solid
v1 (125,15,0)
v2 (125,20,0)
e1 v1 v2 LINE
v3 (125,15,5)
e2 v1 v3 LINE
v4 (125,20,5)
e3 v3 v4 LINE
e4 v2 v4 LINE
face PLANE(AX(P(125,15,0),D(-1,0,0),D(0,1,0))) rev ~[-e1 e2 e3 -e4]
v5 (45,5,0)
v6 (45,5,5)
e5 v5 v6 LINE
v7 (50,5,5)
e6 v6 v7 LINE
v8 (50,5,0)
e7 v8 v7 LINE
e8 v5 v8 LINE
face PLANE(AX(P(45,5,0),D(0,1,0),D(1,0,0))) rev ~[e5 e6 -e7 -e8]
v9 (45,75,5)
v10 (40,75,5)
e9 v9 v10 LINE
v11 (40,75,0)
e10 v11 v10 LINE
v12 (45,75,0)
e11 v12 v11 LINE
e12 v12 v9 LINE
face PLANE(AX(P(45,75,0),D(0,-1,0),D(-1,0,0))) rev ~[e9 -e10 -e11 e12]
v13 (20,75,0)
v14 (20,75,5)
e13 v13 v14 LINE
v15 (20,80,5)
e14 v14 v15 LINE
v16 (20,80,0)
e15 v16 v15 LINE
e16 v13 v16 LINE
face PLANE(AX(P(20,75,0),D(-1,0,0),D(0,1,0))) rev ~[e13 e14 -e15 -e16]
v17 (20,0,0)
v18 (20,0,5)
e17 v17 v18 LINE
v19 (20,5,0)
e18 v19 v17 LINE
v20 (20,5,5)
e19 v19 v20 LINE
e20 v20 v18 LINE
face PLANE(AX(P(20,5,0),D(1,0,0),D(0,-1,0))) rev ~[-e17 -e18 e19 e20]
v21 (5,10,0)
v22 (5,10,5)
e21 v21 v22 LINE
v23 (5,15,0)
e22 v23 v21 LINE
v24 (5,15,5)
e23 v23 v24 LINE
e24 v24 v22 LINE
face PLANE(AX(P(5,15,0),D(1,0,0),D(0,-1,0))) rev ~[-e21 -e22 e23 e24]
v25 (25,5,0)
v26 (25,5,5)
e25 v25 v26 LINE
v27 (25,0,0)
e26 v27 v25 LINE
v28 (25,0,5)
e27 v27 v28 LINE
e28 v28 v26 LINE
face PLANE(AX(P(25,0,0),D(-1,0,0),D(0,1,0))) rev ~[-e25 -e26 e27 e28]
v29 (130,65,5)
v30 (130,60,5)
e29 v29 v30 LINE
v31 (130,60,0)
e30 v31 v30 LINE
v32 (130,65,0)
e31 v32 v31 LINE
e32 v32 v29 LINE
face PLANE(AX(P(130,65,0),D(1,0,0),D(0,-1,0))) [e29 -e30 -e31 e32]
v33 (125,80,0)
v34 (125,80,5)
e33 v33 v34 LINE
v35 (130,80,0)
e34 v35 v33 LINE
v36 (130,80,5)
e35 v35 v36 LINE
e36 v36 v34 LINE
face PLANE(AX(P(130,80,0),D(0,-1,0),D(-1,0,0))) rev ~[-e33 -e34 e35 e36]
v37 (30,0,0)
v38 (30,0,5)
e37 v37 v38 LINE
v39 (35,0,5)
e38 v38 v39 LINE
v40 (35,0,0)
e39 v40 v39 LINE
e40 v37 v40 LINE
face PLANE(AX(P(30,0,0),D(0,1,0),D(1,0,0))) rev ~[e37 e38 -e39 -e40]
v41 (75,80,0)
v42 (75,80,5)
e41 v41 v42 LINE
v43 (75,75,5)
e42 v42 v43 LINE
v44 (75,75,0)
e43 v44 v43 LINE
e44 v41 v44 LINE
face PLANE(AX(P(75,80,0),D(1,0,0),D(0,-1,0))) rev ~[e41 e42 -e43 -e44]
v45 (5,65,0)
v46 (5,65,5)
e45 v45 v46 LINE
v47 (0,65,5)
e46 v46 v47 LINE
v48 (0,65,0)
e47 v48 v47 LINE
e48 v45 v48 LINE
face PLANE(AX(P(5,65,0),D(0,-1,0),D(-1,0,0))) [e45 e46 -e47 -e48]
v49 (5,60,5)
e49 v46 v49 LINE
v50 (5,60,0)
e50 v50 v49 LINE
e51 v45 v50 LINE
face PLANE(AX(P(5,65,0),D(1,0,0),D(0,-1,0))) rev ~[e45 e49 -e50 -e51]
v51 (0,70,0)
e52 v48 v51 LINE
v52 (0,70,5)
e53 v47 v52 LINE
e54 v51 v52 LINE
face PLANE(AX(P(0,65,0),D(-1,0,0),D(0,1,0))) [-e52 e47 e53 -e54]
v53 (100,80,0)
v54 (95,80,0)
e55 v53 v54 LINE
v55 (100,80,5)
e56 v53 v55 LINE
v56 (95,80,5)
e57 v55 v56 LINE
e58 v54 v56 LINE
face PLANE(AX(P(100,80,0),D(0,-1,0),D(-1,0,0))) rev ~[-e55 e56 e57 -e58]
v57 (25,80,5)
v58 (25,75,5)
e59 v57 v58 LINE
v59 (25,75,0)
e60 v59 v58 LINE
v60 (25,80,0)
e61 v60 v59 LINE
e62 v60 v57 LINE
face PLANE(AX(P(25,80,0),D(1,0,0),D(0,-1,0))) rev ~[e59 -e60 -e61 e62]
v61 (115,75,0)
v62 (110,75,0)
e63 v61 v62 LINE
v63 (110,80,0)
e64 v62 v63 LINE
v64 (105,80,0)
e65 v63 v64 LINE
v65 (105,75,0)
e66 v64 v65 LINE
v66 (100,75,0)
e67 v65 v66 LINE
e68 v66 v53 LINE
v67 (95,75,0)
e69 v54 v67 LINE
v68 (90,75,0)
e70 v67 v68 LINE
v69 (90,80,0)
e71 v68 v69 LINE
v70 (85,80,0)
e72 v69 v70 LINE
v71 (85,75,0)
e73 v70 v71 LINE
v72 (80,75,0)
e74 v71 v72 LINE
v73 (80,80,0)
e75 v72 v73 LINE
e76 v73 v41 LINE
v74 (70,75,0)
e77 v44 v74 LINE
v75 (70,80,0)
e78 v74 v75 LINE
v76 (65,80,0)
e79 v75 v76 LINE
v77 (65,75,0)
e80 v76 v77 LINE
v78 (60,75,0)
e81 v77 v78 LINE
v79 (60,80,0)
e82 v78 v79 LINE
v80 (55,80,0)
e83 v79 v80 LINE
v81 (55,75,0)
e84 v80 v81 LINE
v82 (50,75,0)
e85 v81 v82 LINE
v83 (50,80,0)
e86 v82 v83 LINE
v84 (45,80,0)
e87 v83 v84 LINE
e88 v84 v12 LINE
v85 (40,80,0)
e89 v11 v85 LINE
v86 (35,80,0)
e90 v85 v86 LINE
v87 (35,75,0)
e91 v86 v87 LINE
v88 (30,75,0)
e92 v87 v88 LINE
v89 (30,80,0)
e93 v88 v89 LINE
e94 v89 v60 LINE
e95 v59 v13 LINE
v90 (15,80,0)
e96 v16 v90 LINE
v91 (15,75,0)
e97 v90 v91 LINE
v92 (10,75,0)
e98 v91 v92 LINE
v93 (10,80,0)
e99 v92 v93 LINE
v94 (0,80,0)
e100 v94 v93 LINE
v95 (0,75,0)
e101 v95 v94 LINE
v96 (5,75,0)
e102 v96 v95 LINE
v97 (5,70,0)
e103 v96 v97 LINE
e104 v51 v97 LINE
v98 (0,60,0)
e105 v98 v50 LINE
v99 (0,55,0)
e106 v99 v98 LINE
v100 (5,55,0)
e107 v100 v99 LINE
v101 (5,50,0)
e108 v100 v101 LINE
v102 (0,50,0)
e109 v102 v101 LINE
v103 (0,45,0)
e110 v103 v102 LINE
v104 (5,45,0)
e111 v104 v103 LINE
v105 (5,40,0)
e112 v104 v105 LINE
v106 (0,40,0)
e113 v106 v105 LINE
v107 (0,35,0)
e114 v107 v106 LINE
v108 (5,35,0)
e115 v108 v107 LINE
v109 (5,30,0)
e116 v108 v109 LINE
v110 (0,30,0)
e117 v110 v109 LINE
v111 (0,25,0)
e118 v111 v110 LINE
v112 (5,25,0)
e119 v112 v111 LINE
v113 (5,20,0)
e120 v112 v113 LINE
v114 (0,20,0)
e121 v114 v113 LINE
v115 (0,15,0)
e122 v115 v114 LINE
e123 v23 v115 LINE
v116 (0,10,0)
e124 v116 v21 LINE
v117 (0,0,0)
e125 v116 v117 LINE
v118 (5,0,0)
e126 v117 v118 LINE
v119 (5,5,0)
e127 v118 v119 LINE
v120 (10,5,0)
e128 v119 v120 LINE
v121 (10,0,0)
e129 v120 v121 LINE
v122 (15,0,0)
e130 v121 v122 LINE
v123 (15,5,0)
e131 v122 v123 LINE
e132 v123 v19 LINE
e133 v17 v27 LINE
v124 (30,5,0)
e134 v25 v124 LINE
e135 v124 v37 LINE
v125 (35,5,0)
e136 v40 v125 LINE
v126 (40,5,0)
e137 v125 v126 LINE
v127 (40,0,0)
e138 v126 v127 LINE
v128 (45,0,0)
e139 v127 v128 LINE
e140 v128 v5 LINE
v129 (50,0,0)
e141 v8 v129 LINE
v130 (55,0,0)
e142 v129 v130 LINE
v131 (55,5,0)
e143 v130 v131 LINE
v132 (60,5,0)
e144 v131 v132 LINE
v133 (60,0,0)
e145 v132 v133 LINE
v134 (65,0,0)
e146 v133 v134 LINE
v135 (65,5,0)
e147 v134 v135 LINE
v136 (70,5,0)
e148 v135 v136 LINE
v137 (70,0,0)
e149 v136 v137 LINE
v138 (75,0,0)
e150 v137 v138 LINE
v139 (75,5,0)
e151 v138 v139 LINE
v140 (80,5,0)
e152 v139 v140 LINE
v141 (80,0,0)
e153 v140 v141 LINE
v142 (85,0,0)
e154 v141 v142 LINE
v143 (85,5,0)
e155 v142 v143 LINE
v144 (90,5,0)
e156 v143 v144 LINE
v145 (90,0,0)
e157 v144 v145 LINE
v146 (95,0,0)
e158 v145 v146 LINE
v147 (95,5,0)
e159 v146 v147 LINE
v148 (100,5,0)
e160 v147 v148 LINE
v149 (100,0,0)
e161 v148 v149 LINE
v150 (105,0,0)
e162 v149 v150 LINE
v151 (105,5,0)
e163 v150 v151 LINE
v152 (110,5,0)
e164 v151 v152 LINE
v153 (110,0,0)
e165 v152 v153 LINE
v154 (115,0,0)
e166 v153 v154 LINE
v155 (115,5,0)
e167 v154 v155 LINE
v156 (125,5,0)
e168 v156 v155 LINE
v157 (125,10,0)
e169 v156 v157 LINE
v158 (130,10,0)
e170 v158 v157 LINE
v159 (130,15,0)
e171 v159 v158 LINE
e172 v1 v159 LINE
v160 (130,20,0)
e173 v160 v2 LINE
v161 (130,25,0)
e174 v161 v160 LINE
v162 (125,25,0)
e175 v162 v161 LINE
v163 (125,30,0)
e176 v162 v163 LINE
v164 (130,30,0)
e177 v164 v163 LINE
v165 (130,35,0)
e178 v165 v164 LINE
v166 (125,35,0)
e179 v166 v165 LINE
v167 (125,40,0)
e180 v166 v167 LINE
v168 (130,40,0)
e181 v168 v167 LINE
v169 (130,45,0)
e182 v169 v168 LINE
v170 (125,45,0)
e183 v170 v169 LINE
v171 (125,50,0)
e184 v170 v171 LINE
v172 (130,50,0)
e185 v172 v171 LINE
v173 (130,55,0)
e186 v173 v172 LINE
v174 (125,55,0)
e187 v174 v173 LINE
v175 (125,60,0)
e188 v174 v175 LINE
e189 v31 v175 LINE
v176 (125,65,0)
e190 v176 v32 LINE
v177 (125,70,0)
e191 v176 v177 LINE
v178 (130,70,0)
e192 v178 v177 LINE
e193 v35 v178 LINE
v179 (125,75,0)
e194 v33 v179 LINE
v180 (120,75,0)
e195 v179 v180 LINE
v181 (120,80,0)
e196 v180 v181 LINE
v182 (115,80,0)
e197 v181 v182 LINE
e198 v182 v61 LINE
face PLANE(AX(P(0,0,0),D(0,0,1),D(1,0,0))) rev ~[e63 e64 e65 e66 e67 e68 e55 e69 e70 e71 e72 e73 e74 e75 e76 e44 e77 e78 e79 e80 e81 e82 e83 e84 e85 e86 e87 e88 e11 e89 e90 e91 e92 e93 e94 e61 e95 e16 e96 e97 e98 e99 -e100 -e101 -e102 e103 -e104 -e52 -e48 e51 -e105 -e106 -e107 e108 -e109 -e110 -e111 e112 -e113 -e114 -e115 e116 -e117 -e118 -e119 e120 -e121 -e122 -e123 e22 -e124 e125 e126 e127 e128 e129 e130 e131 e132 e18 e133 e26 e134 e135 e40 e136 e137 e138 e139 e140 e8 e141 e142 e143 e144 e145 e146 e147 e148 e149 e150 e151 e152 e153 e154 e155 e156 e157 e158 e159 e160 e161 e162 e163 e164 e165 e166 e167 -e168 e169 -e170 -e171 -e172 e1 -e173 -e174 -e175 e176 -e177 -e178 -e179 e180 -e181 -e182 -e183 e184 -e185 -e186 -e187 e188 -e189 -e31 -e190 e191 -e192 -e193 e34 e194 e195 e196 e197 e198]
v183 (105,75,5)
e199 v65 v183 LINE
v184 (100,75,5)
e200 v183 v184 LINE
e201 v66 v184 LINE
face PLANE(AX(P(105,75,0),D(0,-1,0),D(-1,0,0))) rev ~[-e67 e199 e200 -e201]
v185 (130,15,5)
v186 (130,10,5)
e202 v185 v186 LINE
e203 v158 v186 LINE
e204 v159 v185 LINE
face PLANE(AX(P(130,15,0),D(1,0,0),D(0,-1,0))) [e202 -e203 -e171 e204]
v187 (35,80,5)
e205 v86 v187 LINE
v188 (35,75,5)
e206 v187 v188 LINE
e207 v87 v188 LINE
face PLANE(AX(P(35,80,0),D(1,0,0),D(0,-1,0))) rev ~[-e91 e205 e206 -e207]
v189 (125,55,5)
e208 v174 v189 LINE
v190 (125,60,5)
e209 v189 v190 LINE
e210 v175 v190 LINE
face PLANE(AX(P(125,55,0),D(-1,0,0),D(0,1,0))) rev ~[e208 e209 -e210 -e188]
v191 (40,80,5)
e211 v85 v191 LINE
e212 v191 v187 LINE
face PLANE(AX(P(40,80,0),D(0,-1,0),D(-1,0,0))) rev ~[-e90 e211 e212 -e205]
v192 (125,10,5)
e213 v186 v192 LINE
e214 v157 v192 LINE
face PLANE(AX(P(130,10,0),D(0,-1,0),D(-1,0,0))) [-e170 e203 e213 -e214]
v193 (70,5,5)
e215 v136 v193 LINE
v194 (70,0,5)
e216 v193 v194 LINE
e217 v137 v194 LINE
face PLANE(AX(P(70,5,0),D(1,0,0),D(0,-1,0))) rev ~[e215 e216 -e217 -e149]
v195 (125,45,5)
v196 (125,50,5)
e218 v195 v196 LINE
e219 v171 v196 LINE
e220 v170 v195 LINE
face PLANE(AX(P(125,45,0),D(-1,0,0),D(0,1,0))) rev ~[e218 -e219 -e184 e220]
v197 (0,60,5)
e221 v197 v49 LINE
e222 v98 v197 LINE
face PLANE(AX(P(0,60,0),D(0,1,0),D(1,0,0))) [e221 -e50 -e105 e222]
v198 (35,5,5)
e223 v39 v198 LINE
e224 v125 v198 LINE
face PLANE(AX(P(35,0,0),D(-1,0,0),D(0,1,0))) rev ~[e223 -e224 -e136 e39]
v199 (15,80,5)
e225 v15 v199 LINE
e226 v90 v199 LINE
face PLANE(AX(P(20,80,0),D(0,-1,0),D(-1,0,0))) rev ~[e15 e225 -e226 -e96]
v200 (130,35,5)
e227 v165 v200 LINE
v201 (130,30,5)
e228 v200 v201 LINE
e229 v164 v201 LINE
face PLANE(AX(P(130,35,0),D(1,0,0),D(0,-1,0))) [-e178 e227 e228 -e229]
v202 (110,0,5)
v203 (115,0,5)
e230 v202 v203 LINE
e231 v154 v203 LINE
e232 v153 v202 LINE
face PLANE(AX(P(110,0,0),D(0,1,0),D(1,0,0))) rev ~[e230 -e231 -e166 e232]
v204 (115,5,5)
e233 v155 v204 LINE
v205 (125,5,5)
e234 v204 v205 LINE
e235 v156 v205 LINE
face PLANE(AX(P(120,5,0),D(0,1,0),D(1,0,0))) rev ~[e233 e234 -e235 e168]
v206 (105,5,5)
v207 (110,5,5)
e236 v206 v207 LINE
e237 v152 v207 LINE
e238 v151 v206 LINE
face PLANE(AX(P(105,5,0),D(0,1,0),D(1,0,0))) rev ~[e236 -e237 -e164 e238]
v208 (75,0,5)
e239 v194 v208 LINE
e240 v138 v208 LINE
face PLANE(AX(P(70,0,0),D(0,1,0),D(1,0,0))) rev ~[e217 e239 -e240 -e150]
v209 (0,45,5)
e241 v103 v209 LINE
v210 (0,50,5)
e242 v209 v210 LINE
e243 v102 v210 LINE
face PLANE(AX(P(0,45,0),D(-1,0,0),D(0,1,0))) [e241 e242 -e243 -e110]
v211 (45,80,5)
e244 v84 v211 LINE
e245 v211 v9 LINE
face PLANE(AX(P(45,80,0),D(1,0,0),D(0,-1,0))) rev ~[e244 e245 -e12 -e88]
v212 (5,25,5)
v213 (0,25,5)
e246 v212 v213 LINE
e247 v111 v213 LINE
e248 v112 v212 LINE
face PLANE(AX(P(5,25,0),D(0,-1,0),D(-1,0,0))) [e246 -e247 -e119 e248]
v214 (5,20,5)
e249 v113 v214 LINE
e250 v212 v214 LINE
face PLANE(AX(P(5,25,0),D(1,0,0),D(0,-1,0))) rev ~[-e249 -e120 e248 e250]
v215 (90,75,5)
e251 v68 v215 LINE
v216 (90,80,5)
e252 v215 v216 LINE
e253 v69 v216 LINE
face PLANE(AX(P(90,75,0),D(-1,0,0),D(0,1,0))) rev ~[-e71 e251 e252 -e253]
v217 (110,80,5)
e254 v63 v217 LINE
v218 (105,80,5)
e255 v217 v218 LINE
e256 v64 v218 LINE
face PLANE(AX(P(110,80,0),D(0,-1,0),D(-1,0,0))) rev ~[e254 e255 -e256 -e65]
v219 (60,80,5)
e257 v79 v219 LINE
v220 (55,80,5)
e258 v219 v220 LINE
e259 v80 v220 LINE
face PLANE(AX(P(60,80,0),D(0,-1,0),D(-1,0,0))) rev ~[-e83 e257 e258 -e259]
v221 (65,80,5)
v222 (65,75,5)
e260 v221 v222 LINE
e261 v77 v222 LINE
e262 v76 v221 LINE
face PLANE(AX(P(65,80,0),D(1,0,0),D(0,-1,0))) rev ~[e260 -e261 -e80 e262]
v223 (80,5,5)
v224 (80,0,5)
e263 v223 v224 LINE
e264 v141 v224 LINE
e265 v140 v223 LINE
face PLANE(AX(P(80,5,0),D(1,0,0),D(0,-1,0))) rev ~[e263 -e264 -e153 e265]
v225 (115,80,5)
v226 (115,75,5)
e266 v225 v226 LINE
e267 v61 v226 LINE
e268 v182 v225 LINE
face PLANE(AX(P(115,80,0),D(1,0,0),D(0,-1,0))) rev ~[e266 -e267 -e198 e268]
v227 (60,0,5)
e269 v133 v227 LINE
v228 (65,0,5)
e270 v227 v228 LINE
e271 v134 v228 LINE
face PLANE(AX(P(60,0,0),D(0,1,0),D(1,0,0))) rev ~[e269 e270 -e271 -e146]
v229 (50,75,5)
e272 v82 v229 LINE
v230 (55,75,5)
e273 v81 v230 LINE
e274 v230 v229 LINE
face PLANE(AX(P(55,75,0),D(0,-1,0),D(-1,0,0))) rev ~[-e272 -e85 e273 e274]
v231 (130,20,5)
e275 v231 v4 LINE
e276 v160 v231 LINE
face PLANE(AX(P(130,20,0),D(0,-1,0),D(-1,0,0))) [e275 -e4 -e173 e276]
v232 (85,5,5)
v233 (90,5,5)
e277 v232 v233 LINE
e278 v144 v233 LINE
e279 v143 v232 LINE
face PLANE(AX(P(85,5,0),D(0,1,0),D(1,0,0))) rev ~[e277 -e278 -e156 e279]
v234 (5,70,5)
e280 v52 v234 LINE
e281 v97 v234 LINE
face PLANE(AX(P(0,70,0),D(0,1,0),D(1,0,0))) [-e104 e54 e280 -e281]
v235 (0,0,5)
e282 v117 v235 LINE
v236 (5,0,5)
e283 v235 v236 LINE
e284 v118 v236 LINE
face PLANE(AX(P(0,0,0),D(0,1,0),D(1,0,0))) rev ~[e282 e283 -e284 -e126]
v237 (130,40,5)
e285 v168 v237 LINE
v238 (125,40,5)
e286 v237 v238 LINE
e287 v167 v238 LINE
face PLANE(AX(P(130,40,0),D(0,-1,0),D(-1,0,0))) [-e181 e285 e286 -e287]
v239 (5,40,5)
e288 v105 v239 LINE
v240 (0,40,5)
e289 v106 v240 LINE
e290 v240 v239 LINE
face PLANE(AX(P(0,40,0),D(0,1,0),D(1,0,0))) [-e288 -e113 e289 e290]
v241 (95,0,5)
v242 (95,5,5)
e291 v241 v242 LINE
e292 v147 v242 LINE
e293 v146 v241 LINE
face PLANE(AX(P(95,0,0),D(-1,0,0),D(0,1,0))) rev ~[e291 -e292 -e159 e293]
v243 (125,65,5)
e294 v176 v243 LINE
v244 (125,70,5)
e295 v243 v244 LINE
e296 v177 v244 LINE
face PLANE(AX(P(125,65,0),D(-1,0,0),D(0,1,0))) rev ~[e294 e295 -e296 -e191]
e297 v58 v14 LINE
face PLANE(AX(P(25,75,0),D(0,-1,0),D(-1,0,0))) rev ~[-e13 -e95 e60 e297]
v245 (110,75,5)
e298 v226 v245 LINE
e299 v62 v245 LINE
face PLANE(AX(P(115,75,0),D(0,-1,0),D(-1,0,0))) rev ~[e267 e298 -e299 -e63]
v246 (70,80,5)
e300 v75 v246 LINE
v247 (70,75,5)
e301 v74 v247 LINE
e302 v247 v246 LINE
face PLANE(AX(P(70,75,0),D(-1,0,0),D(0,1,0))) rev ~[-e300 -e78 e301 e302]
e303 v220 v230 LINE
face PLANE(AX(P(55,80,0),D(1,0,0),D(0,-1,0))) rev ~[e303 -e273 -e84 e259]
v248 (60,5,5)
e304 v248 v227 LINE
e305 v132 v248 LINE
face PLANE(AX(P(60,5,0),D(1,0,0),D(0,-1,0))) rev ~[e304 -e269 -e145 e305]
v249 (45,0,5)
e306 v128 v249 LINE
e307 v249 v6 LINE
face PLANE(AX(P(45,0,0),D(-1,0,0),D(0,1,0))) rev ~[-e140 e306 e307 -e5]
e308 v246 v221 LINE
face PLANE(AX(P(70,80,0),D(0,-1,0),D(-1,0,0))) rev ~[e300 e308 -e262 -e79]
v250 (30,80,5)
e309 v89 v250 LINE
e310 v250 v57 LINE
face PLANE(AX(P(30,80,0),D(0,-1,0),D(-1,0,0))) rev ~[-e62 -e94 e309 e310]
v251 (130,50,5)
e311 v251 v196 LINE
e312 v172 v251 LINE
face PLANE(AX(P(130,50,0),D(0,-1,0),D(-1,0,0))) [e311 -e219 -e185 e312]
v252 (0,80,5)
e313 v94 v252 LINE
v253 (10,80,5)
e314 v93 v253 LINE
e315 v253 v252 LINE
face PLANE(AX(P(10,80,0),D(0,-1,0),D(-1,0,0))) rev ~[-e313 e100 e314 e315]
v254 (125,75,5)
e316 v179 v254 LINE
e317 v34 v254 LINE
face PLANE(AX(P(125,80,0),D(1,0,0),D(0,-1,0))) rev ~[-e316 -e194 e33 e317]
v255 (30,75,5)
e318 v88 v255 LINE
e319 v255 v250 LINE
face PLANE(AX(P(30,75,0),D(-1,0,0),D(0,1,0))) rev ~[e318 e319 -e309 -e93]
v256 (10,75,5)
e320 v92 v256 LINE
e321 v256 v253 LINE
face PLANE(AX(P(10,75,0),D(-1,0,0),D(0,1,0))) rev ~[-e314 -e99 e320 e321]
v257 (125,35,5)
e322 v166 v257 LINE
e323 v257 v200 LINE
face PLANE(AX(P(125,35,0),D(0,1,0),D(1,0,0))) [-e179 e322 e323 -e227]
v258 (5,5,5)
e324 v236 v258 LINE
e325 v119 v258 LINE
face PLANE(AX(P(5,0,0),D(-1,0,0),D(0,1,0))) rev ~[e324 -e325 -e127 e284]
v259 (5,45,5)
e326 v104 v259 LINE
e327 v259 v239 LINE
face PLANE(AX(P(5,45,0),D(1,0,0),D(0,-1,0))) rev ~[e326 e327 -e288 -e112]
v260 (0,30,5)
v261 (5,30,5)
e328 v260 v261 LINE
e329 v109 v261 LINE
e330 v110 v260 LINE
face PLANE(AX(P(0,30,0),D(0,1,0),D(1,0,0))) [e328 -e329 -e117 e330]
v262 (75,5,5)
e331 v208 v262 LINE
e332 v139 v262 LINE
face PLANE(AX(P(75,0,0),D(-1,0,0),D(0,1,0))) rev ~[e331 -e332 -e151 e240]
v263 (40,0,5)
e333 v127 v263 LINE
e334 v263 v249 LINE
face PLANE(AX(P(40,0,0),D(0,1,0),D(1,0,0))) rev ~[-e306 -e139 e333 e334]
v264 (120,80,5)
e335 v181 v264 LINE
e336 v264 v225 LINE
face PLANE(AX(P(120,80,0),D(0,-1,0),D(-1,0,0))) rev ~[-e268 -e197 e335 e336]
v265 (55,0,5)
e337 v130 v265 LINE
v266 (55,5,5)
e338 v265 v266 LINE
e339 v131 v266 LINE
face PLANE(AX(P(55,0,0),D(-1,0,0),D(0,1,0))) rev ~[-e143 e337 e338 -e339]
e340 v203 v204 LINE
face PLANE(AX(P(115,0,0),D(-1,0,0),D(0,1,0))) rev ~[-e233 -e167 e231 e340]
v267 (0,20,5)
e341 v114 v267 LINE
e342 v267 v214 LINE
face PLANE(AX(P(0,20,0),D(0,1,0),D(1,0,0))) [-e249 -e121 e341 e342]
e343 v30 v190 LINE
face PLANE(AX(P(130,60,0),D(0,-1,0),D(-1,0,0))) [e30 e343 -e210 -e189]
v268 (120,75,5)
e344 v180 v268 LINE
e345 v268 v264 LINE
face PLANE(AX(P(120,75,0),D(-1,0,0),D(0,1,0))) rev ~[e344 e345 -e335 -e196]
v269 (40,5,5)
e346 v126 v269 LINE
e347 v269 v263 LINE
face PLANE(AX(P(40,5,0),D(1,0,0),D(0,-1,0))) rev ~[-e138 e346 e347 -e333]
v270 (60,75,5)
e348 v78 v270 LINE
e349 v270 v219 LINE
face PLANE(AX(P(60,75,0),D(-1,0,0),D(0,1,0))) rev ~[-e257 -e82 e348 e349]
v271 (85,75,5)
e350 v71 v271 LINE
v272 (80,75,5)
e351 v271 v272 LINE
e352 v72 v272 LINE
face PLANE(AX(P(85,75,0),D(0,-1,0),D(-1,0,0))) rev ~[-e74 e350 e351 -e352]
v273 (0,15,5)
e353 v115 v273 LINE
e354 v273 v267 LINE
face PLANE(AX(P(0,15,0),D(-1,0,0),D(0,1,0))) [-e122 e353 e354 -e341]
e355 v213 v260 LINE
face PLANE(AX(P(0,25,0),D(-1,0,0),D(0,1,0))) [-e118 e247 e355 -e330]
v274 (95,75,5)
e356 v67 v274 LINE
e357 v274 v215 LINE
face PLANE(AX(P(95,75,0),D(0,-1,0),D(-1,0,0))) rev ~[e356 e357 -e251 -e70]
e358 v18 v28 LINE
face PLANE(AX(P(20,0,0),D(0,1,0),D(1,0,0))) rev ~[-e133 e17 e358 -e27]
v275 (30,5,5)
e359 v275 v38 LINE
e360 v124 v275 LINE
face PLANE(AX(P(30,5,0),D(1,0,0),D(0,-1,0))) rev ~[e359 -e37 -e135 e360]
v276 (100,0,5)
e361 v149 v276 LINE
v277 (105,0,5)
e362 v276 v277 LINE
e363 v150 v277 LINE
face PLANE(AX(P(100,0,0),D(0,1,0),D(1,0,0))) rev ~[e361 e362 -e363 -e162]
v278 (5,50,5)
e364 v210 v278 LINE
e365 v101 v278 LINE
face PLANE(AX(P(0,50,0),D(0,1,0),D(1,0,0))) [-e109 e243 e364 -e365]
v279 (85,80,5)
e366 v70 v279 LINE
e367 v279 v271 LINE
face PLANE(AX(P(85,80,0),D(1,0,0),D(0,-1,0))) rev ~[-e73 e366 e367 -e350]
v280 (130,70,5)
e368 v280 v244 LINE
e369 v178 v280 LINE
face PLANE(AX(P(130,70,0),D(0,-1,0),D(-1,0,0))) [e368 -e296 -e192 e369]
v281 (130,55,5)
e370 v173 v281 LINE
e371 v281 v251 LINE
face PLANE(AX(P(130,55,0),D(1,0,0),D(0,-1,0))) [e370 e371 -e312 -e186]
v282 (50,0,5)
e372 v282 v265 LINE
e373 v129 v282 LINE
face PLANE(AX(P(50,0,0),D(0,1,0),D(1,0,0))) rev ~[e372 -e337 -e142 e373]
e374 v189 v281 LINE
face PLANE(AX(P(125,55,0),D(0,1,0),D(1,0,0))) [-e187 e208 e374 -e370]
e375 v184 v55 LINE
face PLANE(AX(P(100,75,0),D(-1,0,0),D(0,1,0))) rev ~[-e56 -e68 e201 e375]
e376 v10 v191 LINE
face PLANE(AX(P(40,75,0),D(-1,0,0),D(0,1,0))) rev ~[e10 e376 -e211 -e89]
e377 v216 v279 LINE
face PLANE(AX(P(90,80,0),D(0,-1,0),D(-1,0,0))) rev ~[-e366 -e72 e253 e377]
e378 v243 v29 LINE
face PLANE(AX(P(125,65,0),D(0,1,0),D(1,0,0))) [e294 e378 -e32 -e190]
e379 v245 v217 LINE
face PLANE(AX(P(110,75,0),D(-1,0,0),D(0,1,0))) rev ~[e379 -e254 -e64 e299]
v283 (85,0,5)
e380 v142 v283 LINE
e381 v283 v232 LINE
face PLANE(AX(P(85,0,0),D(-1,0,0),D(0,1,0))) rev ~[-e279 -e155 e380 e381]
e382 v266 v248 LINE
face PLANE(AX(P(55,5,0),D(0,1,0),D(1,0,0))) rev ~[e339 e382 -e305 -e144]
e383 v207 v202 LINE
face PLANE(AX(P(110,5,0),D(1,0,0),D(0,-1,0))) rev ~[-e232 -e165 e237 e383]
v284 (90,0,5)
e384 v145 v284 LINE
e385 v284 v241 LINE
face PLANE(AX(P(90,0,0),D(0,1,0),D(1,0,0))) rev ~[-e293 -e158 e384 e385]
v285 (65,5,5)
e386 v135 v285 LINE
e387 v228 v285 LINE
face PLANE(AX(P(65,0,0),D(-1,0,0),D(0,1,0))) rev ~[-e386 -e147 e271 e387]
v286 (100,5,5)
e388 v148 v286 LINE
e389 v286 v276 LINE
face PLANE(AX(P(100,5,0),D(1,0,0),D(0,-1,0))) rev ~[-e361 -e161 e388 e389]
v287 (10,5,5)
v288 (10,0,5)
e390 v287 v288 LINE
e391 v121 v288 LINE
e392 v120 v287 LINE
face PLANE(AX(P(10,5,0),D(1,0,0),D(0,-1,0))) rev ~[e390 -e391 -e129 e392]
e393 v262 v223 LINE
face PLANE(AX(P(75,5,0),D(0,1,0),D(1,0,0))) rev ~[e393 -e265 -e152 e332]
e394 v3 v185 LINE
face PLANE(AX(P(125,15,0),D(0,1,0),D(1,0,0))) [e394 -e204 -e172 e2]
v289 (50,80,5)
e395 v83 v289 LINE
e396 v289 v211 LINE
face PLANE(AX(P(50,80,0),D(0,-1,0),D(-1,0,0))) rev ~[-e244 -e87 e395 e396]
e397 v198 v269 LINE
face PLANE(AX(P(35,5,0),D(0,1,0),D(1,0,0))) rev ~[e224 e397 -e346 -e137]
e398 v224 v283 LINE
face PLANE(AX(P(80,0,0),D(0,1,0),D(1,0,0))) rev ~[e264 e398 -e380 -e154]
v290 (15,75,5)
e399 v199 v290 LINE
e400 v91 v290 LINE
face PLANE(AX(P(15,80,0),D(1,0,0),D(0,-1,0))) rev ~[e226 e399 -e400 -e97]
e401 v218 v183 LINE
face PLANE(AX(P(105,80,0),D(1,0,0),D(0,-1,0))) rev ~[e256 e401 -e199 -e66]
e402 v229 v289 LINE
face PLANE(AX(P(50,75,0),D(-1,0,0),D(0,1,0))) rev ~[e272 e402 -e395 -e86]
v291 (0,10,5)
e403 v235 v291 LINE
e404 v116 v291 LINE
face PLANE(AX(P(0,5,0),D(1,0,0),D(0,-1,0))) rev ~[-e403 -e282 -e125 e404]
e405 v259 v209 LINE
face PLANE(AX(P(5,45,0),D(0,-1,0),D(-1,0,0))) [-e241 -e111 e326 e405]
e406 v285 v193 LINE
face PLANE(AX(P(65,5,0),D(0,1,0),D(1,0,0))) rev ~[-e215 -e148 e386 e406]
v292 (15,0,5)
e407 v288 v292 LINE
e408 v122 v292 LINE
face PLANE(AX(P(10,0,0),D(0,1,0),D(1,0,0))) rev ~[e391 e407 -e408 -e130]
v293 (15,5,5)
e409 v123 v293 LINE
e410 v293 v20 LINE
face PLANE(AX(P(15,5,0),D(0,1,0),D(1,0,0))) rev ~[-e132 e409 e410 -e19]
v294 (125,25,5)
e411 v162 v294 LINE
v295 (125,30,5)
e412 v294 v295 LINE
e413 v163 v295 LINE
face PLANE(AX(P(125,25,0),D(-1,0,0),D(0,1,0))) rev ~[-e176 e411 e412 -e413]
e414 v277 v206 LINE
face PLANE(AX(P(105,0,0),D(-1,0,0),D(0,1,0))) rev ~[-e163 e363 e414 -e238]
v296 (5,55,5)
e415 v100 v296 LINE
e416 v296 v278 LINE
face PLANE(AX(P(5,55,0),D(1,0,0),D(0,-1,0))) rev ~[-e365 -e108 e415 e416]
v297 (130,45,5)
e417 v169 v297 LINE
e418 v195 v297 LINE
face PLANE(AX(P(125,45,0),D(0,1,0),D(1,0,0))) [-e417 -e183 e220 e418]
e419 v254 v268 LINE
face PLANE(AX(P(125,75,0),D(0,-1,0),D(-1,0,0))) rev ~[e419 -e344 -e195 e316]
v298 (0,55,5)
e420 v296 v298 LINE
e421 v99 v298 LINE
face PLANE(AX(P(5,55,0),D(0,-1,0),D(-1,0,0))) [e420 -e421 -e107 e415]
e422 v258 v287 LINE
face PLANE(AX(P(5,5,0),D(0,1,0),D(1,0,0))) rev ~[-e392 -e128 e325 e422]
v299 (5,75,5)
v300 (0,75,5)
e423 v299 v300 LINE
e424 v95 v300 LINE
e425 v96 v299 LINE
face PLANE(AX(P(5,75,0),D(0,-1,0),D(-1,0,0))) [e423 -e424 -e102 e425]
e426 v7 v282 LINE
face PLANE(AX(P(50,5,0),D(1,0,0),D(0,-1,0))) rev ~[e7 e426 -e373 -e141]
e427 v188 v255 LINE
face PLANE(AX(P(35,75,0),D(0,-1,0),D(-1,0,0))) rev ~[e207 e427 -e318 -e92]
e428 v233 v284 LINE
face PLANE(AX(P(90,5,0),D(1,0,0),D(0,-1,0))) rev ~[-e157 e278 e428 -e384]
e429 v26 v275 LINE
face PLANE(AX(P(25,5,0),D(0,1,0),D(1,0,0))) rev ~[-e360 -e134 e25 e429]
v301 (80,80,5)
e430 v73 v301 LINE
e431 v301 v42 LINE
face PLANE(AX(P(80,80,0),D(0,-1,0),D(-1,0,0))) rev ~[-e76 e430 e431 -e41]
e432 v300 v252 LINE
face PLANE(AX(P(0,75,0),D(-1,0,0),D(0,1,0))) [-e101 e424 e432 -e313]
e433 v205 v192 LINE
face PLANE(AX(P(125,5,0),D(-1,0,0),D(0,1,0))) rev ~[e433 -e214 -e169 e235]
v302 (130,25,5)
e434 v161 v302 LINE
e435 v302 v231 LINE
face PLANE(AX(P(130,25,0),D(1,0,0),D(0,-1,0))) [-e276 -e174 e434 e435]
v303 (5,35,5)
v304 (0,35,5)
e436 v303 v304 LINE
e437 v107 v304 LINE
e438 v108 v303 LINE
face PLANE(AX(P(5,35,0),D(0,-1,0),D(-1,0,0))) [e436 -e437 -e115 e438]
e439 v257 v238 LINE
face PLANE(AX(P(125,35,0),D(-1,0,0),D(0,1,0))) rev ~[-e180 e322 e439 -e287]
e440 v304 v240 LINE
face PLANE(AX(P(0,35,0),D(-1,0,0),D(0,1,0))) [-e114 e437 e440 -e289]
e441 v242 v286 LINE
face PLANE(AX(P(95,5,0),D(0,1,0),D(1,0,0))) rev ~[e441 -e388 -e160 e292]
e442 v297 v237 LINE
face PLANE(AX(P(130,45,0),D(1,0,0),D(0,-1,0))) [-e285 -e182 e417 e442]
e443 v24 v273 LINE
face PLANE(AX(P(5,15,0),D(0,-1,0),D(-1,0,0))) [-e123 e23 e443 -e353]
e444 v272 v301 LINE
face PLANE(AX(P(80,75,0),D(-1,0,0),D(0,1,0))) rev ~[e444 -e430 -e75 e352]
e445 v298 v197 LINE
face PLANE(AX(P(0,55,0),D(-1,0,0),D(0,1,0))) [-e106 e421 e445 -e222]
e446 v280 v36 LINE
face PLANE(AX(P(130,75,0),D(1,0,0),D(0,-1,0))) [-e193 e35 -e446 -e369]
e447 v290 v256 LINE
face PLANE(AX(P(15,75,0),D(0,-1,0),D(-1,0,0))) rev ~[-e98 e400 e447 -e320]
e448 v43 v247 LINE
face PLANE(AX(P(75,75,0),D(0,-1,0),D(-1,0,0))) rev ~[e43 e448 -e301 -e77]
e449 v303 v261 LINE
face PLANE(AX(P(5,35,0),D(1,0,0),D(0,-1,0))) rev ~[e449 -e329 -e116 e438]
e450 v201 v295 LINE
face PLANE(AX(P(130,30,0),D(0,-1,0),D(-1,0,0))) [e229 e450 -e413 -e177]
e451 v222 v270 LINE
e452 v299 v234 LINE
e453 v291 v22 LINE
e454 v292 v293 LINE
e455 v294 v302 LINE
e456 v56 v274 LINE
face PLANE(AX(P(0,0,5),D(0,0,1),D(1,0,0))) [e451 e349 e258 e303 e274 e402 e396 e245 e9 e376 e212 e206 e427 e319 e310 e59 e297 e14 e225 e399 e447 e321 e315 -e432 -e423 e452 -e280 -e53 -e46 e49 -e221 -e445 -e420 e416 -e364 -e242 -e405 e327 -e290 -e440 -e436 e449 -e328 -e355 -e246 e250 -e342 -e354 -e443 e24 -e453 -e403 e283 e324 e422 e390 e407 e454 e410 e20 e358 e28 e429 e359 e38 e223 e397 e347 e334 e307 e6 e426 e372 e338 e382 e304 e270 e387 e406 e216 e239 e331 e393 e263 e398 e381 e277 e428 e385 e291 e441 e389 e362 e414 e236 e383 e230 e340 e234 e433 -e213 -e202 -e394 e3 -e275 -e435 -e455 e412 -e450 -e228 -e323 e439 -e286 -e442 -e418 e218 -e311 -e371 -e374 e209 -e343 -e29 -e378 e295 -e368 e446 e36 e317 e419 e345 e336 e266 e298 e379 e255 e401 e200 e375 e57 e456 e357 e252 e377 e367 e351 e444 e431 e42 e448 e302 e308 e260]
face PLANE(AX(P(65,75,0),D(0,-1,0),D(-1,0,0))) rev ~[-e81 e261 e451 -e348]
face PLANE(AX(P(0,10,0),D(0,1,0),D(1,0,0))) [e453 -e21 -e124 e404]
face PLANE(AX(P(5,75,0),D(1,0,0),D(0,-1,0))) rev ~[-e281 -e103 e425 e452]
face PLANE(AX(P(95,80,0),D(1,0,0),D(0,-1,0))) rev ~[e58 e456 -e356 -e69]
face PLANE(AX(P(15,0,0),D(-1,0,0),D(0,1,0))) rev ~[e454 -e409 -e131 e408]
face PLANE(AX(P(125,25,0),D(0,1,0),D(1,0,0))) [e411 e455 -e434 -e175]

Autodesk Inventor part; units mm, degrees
ref_plane "YZ Plane" through (0, 0, 0) normal (1, 0, 0) x (0, 1, 0)
ref_plane "XZ Plane" through (0, 0, 0) normal (0, 1, 0) x (-1, 0, 0)
ref_plane "XY Plane" through (0, 0, 0) normal (0, 0, 1) x (1, 0, 0)
sketch "Sketch1" plane through (0, 0, 0) normal (0, 0, 1) x (1, 0, 0)
  line L0 (0, 0) -> (5, 0)
  line L1 (5, 0) -> (5, 5)
  line L2 (5, 5) -> (0, 5)
  line L3 (0, 5) -> (0, 0)
  line L4 (5, 5) -> (125, 5)
  line L5 (125, 5) -> (125, 75)
  line L6 (125, 75) -> (5, 75)
  line L7 (5, 75) -> (5, 5)
  line L8 (130, 80) -> (125, 80)
  line L9 (125, 80) -> (125, 75)
  line L10 (125, 75) -> (130, 75)
  line L11 (130, 75) -> (130, 80)
  line L12 (115, 80) -> (115, 75)
  line L13 (115, 75) -> (120, 75)
  line L14 (120, 75) -> (120, 80)
  line L15 (120, 80) -> (115, 80)
  line L16 (105, 80) -> (105, 75)
  line L17 (105, 75) -> (110, 75)
  line L18 (110, 75) -> (110, 80)
  line L19 (110, 80) -> (105, 80)
  line L20 (95, 80) -> (95, 75)
  line L21 (95, 75) -> (100, 75)
  line L22 (100, 75) -> (100, 80)
  line L23 (100, 80) -> (95, 80)
  line L24 (85, 80) -> (85, 75)
  line L25 (85, 75) -> (90, 75)
  line L26 (90, 75) -> (90, 80)
  line L27 (90, 80) -> (85, 80)
  line L28 (75, 80) -> (75, 75)
  line L29 (75, 75) -> (80, 75)
  line L30 (80, 75) -> (80, 80)
  line L31 (80, 80) -> (75, 80)
  line L32 (65, 80) -> (65, 75)
  line L33 (65, 75) -> (70, 75)
  line L34 (70, 75) -> (70, 80)
  line L35 (70, 80) -> (65, 80)
  line L36 (55, 80) -> (55, 75)
  line L37 (55, 75) -> (60, 75)
  line L38 (60, 75) -> (60, 80)
  line L39 (60, 80) -> (55, 80)
  line L40 (45, 80) -> (45, 75)
  line L41 (45, 75) -> (50, 75)
  line L42 (50, 75) -> (50, 80)
  line L43 (50, 80) -> (45, 80)
  line L44 (35, 80) -> (35, 75)
  line L45 (35, 75) -> (40, 75)
  line L46 (40, 75) -> (40, 80)
  line L47 (40, 80) -> (35, 80)
  line L48 (25, 80) -> (25, 75)
  line L49 (25, 75) -> (30, 75)
  line L50 (30, 75) -> (30, 80)
  line L51 (30, 80) -> (25, 80)
  line L52 (15, 80) -> (15, 75)
  line L53 (15, 75) -> (20, 75)
  line L54 (20, 75) -> (20, 80)
  line L55 (20, 80) -> (15, 80)
  line L56 (5, 80) -> (5, 75)
  line L57 (5, 75) -> (10, 75)
  line L58 (10, 75) -> (10, 80)
  line L59 (10, 80) -> (5, 80)
  line L60 (130, 70) -> (125, 70)
  line L61 (125, 70) -> (125, 75)
  line L62 (125, 75) -> (130, 75)
  line L63 (130, 75) -> (130, 70)
  line L64 (130, 60) -> (125, 60)
  line L65 (125, 60) -> (125, 65)
  line L66 (130, 65) -> (130, 60)
  line L67 (125, 65) -> (130, 65)
  line L68 (125, 65) -> (130, 65)
  line L69 (130, 50) -> (125, 50)
  line L70 (125, 50) -> (125, 55)
  line L71 (130, 55) -> (130, 50)
  line L72 (125, 55) -> (130, 55)
  line L73 (125, 55) -> (130, 55)
  line L74 (130, 40) -> (125, 40)
  line L75 (125, 40) -> (125, 45)
  line L76 (130, 45) -> (130, 40)
  line L77 (125, 45) -> (130, 45)
  line L78 (125, 45) -> (130, 45)
  line L79 (130, 30) -> (125, 30)
  line L80 (125, 30) -> (125, 35)
  line L81 (130, 35) -> (130, 30)
  line L82 (125, 35) -> (130, 35)
  line L83 (125, 35) -> (130, 35)
  line L84 (130, 20) -> (125, 20)
  line L85 (125, 20) -> (125, 25)
  line L86 (130, 25) -> (130, 20)
  line L87 (125, 25) -> (130, 25)
  line L88 (125, 25) -> (130, 25)
  line L89 (130, 10) -> (125, 10)
  line L90 (125, 10) -> (125, 15)
  line L91 (130, 15) -> (130, 10)
  line L92 (125, 15) -> (130, 15)
  line L93 (125, 15) -> (130, 15)
  line L94 (0, 80) -> (5, 80)
  line L95 (5, 80) -> (5, 75)
  line L96 (5, 75) -> (0, 75)
  line L97 (0, 75) -> (0, 80)
  line L98 (5, 70) -> (5, 65)
  line L99 (5, 65) -> (0, 65)
  line L100 (0, 70) -> (5, 70)
  line L101 (0, 65) -> (0, 70)
  line L102 (5, 70) -> (5, 65)
  line L103 (5, 60) -> (5, 55)
  line L104 (5, 55) -> (0, 55)
  line L105 (0, 60) -> (5, 60)
  line L106 (0, 55) -> (0, 60)
  line L107 (5, 60) -> (5, 55)
  line L108 (5, 50) -> (5, 45)
  line L109 (5, 45) -> (0, 45)
  line L110 (0, 50) -> (5, 50)
  line L111 (0, 45) -> (0, 50)
  line L112 (5, 50) -> (5, 45)
  line L113 (5, 40) -> (5, 35)
  line L114 (5, 35) -> (0, 35)
  line L115 (0, 40) -> (5, 40)
  line L116 (0, 35) -> (0, 40)
  line L117 (5, 40) -> (5, 35)
  line L118 (5, 30) -> (5, 25)
  line L119 (5, 25) -> (0, 25)
  line L120 (0, 30) -> (5, 30)
  line L121 (0, 25) -> (0, 30)
  line L122 (5, 30) -> (5, 25)
  line L123 (5, 20) -> (5, 15)
  line L124 (5, 15) -> (0, 15)
  line L125 (0, 20) -> (5, 20)
  line L126 (0, 15) -> (0, 20)
  line L127 (5, 20) -> (5, 15)
  line L128 (5, 10) -> (5, 5)
  line L129 (5, 5) -> (0, 5)
  line L130 (0, 10) -> (5, 10)
  line L131 (0, 5) -> (0, 10)
  line L132 (5, 10) -> (5, 5)
  line L133 (125, 30) -> (90, 30)
  line L134 (90, 30) -> (90, 5)
  line L135 (10, 0) -> (15, 0)
  line L136 (15, 0) -> (15, 5)
  line L137 (10, 5) -> (10, 0)
  line L138 (20, 0) -> (25, 0)
  line L139 (25, 0) -> (25, 5)
  line L140 (20, 5) -> (20, 0)
  line L141 (30, 0) -> (35, 0)
  line L142 (35, 0) -> (35, 5)
  line L143 (30, 5) -> (30, 0)
  line L144 (40, 0) -> (45, 0)
  line L145 (45, 0) -> (45, 5)
  line L146 (40, 5) -> (40, 0)
  line L147 (50, 0) -> (55, 0)
  line L148 (55, 0) -> (55, 5)
  line L149 (50, 5) -> (50, 0)
  line L150 (60, 0) -> (65, 0)
  line L151 (65, 0) -> (65, 5)
  line L152 (60, 5) -> (60, 0)
  line L153 (70, 0) -> (75, 0)
  line L154 (75, 0) -> (75, 5)
  line L155 (70, 5) -> (70, 0)
  line L156 (80, 0) -> (85, 0)
  line L157 (85, 0) -> (85, 5)
  line L158 (80, 5) -> (80, 0)
  line L159 (90, 0) -> (95, 0)
  line L160 (95, 0) -> (95, 5)
  line L161 (90, 5) -> (90, 0)
  line L162 (100, 0) -> (105, 0)
  line L163 (105, 0) -> (105, 5)
  line L164 (100, 5) -> (100, 0)
  line L165 (110, 0) -> (115, 0)
  line L166 (115, 0) -> (115, 5)
  line L167 (110, 5) -> (110, 0)
  line L168 (120, 0) -> (125, 0)
  line L169 (125, 0) -> (125, 5)
  line L170 (120, 5) -> (120, 0)
  point P0 (5, 65)
  point P1 (5, 55)
  point P2 (5, 45)
  point P3 (5, 35)
  point P4 (5, 25)
  point P5 (5, 15)
  point P6 (5, 5)
  dimension "d2" = 120
  dimension "d36" = 70
  dimension "d53" = 10
  dimension "d60" = 10
  dimension "d67" = 10
  dimension "d74" = 10
extrude "Extrusion3" add sketch "Sketch1" along normal blind 5 contours L3 L2 L1 L0 | L131 L130 L7 L2 | L7 L6 L5 L133 L134 L4 | L4 L136 L135 L137 | L124 L126 L125 L7 | L4 L139 L138 L140 | L119 L121 L120 L7 | L4 L142 L141 L143 | L114 L116 L115 L7 | L4 L145 L144 L146 | L109 L111 L110 L7 | L4 L148 L147 L149 | L104 L106 L105 L7 | L4 L151 L150 L152 | L99 L101 L100 L7 | L4 L154 L153 L155 | L56 L59 L58 L6 | L96 L97 L94 L56 | L4 L157 L156 L158 | L52 L55 L54 L6 | L134 L133 L5 L4 | L4 L160 L159 L161 | L48 L51 L50 L6 | L4 L163 L162 L164 | L5 L82 L81 L79 | L87 L86 L84 L5 | L44 L47 L46 L6 | L4 L166 L165 L167 | L5 L77 L76 L74 | L92 L91 L89 L5 | L40 L43 L42 L6 | L5 L72 L71 L69 | L36 L39 L38 L6 | L5 L67 L66 L64 | L32 L35 L34 L6 | L5 L10 L63 L60 | L9 L8 L11 L10 | L28 L31 L30 L6 | L6 L12 L15 L14 | L24 L27 L26 L6 | L6 L16 L19 L18 | L20 L23 L22 L6
properties part number "leftside"
